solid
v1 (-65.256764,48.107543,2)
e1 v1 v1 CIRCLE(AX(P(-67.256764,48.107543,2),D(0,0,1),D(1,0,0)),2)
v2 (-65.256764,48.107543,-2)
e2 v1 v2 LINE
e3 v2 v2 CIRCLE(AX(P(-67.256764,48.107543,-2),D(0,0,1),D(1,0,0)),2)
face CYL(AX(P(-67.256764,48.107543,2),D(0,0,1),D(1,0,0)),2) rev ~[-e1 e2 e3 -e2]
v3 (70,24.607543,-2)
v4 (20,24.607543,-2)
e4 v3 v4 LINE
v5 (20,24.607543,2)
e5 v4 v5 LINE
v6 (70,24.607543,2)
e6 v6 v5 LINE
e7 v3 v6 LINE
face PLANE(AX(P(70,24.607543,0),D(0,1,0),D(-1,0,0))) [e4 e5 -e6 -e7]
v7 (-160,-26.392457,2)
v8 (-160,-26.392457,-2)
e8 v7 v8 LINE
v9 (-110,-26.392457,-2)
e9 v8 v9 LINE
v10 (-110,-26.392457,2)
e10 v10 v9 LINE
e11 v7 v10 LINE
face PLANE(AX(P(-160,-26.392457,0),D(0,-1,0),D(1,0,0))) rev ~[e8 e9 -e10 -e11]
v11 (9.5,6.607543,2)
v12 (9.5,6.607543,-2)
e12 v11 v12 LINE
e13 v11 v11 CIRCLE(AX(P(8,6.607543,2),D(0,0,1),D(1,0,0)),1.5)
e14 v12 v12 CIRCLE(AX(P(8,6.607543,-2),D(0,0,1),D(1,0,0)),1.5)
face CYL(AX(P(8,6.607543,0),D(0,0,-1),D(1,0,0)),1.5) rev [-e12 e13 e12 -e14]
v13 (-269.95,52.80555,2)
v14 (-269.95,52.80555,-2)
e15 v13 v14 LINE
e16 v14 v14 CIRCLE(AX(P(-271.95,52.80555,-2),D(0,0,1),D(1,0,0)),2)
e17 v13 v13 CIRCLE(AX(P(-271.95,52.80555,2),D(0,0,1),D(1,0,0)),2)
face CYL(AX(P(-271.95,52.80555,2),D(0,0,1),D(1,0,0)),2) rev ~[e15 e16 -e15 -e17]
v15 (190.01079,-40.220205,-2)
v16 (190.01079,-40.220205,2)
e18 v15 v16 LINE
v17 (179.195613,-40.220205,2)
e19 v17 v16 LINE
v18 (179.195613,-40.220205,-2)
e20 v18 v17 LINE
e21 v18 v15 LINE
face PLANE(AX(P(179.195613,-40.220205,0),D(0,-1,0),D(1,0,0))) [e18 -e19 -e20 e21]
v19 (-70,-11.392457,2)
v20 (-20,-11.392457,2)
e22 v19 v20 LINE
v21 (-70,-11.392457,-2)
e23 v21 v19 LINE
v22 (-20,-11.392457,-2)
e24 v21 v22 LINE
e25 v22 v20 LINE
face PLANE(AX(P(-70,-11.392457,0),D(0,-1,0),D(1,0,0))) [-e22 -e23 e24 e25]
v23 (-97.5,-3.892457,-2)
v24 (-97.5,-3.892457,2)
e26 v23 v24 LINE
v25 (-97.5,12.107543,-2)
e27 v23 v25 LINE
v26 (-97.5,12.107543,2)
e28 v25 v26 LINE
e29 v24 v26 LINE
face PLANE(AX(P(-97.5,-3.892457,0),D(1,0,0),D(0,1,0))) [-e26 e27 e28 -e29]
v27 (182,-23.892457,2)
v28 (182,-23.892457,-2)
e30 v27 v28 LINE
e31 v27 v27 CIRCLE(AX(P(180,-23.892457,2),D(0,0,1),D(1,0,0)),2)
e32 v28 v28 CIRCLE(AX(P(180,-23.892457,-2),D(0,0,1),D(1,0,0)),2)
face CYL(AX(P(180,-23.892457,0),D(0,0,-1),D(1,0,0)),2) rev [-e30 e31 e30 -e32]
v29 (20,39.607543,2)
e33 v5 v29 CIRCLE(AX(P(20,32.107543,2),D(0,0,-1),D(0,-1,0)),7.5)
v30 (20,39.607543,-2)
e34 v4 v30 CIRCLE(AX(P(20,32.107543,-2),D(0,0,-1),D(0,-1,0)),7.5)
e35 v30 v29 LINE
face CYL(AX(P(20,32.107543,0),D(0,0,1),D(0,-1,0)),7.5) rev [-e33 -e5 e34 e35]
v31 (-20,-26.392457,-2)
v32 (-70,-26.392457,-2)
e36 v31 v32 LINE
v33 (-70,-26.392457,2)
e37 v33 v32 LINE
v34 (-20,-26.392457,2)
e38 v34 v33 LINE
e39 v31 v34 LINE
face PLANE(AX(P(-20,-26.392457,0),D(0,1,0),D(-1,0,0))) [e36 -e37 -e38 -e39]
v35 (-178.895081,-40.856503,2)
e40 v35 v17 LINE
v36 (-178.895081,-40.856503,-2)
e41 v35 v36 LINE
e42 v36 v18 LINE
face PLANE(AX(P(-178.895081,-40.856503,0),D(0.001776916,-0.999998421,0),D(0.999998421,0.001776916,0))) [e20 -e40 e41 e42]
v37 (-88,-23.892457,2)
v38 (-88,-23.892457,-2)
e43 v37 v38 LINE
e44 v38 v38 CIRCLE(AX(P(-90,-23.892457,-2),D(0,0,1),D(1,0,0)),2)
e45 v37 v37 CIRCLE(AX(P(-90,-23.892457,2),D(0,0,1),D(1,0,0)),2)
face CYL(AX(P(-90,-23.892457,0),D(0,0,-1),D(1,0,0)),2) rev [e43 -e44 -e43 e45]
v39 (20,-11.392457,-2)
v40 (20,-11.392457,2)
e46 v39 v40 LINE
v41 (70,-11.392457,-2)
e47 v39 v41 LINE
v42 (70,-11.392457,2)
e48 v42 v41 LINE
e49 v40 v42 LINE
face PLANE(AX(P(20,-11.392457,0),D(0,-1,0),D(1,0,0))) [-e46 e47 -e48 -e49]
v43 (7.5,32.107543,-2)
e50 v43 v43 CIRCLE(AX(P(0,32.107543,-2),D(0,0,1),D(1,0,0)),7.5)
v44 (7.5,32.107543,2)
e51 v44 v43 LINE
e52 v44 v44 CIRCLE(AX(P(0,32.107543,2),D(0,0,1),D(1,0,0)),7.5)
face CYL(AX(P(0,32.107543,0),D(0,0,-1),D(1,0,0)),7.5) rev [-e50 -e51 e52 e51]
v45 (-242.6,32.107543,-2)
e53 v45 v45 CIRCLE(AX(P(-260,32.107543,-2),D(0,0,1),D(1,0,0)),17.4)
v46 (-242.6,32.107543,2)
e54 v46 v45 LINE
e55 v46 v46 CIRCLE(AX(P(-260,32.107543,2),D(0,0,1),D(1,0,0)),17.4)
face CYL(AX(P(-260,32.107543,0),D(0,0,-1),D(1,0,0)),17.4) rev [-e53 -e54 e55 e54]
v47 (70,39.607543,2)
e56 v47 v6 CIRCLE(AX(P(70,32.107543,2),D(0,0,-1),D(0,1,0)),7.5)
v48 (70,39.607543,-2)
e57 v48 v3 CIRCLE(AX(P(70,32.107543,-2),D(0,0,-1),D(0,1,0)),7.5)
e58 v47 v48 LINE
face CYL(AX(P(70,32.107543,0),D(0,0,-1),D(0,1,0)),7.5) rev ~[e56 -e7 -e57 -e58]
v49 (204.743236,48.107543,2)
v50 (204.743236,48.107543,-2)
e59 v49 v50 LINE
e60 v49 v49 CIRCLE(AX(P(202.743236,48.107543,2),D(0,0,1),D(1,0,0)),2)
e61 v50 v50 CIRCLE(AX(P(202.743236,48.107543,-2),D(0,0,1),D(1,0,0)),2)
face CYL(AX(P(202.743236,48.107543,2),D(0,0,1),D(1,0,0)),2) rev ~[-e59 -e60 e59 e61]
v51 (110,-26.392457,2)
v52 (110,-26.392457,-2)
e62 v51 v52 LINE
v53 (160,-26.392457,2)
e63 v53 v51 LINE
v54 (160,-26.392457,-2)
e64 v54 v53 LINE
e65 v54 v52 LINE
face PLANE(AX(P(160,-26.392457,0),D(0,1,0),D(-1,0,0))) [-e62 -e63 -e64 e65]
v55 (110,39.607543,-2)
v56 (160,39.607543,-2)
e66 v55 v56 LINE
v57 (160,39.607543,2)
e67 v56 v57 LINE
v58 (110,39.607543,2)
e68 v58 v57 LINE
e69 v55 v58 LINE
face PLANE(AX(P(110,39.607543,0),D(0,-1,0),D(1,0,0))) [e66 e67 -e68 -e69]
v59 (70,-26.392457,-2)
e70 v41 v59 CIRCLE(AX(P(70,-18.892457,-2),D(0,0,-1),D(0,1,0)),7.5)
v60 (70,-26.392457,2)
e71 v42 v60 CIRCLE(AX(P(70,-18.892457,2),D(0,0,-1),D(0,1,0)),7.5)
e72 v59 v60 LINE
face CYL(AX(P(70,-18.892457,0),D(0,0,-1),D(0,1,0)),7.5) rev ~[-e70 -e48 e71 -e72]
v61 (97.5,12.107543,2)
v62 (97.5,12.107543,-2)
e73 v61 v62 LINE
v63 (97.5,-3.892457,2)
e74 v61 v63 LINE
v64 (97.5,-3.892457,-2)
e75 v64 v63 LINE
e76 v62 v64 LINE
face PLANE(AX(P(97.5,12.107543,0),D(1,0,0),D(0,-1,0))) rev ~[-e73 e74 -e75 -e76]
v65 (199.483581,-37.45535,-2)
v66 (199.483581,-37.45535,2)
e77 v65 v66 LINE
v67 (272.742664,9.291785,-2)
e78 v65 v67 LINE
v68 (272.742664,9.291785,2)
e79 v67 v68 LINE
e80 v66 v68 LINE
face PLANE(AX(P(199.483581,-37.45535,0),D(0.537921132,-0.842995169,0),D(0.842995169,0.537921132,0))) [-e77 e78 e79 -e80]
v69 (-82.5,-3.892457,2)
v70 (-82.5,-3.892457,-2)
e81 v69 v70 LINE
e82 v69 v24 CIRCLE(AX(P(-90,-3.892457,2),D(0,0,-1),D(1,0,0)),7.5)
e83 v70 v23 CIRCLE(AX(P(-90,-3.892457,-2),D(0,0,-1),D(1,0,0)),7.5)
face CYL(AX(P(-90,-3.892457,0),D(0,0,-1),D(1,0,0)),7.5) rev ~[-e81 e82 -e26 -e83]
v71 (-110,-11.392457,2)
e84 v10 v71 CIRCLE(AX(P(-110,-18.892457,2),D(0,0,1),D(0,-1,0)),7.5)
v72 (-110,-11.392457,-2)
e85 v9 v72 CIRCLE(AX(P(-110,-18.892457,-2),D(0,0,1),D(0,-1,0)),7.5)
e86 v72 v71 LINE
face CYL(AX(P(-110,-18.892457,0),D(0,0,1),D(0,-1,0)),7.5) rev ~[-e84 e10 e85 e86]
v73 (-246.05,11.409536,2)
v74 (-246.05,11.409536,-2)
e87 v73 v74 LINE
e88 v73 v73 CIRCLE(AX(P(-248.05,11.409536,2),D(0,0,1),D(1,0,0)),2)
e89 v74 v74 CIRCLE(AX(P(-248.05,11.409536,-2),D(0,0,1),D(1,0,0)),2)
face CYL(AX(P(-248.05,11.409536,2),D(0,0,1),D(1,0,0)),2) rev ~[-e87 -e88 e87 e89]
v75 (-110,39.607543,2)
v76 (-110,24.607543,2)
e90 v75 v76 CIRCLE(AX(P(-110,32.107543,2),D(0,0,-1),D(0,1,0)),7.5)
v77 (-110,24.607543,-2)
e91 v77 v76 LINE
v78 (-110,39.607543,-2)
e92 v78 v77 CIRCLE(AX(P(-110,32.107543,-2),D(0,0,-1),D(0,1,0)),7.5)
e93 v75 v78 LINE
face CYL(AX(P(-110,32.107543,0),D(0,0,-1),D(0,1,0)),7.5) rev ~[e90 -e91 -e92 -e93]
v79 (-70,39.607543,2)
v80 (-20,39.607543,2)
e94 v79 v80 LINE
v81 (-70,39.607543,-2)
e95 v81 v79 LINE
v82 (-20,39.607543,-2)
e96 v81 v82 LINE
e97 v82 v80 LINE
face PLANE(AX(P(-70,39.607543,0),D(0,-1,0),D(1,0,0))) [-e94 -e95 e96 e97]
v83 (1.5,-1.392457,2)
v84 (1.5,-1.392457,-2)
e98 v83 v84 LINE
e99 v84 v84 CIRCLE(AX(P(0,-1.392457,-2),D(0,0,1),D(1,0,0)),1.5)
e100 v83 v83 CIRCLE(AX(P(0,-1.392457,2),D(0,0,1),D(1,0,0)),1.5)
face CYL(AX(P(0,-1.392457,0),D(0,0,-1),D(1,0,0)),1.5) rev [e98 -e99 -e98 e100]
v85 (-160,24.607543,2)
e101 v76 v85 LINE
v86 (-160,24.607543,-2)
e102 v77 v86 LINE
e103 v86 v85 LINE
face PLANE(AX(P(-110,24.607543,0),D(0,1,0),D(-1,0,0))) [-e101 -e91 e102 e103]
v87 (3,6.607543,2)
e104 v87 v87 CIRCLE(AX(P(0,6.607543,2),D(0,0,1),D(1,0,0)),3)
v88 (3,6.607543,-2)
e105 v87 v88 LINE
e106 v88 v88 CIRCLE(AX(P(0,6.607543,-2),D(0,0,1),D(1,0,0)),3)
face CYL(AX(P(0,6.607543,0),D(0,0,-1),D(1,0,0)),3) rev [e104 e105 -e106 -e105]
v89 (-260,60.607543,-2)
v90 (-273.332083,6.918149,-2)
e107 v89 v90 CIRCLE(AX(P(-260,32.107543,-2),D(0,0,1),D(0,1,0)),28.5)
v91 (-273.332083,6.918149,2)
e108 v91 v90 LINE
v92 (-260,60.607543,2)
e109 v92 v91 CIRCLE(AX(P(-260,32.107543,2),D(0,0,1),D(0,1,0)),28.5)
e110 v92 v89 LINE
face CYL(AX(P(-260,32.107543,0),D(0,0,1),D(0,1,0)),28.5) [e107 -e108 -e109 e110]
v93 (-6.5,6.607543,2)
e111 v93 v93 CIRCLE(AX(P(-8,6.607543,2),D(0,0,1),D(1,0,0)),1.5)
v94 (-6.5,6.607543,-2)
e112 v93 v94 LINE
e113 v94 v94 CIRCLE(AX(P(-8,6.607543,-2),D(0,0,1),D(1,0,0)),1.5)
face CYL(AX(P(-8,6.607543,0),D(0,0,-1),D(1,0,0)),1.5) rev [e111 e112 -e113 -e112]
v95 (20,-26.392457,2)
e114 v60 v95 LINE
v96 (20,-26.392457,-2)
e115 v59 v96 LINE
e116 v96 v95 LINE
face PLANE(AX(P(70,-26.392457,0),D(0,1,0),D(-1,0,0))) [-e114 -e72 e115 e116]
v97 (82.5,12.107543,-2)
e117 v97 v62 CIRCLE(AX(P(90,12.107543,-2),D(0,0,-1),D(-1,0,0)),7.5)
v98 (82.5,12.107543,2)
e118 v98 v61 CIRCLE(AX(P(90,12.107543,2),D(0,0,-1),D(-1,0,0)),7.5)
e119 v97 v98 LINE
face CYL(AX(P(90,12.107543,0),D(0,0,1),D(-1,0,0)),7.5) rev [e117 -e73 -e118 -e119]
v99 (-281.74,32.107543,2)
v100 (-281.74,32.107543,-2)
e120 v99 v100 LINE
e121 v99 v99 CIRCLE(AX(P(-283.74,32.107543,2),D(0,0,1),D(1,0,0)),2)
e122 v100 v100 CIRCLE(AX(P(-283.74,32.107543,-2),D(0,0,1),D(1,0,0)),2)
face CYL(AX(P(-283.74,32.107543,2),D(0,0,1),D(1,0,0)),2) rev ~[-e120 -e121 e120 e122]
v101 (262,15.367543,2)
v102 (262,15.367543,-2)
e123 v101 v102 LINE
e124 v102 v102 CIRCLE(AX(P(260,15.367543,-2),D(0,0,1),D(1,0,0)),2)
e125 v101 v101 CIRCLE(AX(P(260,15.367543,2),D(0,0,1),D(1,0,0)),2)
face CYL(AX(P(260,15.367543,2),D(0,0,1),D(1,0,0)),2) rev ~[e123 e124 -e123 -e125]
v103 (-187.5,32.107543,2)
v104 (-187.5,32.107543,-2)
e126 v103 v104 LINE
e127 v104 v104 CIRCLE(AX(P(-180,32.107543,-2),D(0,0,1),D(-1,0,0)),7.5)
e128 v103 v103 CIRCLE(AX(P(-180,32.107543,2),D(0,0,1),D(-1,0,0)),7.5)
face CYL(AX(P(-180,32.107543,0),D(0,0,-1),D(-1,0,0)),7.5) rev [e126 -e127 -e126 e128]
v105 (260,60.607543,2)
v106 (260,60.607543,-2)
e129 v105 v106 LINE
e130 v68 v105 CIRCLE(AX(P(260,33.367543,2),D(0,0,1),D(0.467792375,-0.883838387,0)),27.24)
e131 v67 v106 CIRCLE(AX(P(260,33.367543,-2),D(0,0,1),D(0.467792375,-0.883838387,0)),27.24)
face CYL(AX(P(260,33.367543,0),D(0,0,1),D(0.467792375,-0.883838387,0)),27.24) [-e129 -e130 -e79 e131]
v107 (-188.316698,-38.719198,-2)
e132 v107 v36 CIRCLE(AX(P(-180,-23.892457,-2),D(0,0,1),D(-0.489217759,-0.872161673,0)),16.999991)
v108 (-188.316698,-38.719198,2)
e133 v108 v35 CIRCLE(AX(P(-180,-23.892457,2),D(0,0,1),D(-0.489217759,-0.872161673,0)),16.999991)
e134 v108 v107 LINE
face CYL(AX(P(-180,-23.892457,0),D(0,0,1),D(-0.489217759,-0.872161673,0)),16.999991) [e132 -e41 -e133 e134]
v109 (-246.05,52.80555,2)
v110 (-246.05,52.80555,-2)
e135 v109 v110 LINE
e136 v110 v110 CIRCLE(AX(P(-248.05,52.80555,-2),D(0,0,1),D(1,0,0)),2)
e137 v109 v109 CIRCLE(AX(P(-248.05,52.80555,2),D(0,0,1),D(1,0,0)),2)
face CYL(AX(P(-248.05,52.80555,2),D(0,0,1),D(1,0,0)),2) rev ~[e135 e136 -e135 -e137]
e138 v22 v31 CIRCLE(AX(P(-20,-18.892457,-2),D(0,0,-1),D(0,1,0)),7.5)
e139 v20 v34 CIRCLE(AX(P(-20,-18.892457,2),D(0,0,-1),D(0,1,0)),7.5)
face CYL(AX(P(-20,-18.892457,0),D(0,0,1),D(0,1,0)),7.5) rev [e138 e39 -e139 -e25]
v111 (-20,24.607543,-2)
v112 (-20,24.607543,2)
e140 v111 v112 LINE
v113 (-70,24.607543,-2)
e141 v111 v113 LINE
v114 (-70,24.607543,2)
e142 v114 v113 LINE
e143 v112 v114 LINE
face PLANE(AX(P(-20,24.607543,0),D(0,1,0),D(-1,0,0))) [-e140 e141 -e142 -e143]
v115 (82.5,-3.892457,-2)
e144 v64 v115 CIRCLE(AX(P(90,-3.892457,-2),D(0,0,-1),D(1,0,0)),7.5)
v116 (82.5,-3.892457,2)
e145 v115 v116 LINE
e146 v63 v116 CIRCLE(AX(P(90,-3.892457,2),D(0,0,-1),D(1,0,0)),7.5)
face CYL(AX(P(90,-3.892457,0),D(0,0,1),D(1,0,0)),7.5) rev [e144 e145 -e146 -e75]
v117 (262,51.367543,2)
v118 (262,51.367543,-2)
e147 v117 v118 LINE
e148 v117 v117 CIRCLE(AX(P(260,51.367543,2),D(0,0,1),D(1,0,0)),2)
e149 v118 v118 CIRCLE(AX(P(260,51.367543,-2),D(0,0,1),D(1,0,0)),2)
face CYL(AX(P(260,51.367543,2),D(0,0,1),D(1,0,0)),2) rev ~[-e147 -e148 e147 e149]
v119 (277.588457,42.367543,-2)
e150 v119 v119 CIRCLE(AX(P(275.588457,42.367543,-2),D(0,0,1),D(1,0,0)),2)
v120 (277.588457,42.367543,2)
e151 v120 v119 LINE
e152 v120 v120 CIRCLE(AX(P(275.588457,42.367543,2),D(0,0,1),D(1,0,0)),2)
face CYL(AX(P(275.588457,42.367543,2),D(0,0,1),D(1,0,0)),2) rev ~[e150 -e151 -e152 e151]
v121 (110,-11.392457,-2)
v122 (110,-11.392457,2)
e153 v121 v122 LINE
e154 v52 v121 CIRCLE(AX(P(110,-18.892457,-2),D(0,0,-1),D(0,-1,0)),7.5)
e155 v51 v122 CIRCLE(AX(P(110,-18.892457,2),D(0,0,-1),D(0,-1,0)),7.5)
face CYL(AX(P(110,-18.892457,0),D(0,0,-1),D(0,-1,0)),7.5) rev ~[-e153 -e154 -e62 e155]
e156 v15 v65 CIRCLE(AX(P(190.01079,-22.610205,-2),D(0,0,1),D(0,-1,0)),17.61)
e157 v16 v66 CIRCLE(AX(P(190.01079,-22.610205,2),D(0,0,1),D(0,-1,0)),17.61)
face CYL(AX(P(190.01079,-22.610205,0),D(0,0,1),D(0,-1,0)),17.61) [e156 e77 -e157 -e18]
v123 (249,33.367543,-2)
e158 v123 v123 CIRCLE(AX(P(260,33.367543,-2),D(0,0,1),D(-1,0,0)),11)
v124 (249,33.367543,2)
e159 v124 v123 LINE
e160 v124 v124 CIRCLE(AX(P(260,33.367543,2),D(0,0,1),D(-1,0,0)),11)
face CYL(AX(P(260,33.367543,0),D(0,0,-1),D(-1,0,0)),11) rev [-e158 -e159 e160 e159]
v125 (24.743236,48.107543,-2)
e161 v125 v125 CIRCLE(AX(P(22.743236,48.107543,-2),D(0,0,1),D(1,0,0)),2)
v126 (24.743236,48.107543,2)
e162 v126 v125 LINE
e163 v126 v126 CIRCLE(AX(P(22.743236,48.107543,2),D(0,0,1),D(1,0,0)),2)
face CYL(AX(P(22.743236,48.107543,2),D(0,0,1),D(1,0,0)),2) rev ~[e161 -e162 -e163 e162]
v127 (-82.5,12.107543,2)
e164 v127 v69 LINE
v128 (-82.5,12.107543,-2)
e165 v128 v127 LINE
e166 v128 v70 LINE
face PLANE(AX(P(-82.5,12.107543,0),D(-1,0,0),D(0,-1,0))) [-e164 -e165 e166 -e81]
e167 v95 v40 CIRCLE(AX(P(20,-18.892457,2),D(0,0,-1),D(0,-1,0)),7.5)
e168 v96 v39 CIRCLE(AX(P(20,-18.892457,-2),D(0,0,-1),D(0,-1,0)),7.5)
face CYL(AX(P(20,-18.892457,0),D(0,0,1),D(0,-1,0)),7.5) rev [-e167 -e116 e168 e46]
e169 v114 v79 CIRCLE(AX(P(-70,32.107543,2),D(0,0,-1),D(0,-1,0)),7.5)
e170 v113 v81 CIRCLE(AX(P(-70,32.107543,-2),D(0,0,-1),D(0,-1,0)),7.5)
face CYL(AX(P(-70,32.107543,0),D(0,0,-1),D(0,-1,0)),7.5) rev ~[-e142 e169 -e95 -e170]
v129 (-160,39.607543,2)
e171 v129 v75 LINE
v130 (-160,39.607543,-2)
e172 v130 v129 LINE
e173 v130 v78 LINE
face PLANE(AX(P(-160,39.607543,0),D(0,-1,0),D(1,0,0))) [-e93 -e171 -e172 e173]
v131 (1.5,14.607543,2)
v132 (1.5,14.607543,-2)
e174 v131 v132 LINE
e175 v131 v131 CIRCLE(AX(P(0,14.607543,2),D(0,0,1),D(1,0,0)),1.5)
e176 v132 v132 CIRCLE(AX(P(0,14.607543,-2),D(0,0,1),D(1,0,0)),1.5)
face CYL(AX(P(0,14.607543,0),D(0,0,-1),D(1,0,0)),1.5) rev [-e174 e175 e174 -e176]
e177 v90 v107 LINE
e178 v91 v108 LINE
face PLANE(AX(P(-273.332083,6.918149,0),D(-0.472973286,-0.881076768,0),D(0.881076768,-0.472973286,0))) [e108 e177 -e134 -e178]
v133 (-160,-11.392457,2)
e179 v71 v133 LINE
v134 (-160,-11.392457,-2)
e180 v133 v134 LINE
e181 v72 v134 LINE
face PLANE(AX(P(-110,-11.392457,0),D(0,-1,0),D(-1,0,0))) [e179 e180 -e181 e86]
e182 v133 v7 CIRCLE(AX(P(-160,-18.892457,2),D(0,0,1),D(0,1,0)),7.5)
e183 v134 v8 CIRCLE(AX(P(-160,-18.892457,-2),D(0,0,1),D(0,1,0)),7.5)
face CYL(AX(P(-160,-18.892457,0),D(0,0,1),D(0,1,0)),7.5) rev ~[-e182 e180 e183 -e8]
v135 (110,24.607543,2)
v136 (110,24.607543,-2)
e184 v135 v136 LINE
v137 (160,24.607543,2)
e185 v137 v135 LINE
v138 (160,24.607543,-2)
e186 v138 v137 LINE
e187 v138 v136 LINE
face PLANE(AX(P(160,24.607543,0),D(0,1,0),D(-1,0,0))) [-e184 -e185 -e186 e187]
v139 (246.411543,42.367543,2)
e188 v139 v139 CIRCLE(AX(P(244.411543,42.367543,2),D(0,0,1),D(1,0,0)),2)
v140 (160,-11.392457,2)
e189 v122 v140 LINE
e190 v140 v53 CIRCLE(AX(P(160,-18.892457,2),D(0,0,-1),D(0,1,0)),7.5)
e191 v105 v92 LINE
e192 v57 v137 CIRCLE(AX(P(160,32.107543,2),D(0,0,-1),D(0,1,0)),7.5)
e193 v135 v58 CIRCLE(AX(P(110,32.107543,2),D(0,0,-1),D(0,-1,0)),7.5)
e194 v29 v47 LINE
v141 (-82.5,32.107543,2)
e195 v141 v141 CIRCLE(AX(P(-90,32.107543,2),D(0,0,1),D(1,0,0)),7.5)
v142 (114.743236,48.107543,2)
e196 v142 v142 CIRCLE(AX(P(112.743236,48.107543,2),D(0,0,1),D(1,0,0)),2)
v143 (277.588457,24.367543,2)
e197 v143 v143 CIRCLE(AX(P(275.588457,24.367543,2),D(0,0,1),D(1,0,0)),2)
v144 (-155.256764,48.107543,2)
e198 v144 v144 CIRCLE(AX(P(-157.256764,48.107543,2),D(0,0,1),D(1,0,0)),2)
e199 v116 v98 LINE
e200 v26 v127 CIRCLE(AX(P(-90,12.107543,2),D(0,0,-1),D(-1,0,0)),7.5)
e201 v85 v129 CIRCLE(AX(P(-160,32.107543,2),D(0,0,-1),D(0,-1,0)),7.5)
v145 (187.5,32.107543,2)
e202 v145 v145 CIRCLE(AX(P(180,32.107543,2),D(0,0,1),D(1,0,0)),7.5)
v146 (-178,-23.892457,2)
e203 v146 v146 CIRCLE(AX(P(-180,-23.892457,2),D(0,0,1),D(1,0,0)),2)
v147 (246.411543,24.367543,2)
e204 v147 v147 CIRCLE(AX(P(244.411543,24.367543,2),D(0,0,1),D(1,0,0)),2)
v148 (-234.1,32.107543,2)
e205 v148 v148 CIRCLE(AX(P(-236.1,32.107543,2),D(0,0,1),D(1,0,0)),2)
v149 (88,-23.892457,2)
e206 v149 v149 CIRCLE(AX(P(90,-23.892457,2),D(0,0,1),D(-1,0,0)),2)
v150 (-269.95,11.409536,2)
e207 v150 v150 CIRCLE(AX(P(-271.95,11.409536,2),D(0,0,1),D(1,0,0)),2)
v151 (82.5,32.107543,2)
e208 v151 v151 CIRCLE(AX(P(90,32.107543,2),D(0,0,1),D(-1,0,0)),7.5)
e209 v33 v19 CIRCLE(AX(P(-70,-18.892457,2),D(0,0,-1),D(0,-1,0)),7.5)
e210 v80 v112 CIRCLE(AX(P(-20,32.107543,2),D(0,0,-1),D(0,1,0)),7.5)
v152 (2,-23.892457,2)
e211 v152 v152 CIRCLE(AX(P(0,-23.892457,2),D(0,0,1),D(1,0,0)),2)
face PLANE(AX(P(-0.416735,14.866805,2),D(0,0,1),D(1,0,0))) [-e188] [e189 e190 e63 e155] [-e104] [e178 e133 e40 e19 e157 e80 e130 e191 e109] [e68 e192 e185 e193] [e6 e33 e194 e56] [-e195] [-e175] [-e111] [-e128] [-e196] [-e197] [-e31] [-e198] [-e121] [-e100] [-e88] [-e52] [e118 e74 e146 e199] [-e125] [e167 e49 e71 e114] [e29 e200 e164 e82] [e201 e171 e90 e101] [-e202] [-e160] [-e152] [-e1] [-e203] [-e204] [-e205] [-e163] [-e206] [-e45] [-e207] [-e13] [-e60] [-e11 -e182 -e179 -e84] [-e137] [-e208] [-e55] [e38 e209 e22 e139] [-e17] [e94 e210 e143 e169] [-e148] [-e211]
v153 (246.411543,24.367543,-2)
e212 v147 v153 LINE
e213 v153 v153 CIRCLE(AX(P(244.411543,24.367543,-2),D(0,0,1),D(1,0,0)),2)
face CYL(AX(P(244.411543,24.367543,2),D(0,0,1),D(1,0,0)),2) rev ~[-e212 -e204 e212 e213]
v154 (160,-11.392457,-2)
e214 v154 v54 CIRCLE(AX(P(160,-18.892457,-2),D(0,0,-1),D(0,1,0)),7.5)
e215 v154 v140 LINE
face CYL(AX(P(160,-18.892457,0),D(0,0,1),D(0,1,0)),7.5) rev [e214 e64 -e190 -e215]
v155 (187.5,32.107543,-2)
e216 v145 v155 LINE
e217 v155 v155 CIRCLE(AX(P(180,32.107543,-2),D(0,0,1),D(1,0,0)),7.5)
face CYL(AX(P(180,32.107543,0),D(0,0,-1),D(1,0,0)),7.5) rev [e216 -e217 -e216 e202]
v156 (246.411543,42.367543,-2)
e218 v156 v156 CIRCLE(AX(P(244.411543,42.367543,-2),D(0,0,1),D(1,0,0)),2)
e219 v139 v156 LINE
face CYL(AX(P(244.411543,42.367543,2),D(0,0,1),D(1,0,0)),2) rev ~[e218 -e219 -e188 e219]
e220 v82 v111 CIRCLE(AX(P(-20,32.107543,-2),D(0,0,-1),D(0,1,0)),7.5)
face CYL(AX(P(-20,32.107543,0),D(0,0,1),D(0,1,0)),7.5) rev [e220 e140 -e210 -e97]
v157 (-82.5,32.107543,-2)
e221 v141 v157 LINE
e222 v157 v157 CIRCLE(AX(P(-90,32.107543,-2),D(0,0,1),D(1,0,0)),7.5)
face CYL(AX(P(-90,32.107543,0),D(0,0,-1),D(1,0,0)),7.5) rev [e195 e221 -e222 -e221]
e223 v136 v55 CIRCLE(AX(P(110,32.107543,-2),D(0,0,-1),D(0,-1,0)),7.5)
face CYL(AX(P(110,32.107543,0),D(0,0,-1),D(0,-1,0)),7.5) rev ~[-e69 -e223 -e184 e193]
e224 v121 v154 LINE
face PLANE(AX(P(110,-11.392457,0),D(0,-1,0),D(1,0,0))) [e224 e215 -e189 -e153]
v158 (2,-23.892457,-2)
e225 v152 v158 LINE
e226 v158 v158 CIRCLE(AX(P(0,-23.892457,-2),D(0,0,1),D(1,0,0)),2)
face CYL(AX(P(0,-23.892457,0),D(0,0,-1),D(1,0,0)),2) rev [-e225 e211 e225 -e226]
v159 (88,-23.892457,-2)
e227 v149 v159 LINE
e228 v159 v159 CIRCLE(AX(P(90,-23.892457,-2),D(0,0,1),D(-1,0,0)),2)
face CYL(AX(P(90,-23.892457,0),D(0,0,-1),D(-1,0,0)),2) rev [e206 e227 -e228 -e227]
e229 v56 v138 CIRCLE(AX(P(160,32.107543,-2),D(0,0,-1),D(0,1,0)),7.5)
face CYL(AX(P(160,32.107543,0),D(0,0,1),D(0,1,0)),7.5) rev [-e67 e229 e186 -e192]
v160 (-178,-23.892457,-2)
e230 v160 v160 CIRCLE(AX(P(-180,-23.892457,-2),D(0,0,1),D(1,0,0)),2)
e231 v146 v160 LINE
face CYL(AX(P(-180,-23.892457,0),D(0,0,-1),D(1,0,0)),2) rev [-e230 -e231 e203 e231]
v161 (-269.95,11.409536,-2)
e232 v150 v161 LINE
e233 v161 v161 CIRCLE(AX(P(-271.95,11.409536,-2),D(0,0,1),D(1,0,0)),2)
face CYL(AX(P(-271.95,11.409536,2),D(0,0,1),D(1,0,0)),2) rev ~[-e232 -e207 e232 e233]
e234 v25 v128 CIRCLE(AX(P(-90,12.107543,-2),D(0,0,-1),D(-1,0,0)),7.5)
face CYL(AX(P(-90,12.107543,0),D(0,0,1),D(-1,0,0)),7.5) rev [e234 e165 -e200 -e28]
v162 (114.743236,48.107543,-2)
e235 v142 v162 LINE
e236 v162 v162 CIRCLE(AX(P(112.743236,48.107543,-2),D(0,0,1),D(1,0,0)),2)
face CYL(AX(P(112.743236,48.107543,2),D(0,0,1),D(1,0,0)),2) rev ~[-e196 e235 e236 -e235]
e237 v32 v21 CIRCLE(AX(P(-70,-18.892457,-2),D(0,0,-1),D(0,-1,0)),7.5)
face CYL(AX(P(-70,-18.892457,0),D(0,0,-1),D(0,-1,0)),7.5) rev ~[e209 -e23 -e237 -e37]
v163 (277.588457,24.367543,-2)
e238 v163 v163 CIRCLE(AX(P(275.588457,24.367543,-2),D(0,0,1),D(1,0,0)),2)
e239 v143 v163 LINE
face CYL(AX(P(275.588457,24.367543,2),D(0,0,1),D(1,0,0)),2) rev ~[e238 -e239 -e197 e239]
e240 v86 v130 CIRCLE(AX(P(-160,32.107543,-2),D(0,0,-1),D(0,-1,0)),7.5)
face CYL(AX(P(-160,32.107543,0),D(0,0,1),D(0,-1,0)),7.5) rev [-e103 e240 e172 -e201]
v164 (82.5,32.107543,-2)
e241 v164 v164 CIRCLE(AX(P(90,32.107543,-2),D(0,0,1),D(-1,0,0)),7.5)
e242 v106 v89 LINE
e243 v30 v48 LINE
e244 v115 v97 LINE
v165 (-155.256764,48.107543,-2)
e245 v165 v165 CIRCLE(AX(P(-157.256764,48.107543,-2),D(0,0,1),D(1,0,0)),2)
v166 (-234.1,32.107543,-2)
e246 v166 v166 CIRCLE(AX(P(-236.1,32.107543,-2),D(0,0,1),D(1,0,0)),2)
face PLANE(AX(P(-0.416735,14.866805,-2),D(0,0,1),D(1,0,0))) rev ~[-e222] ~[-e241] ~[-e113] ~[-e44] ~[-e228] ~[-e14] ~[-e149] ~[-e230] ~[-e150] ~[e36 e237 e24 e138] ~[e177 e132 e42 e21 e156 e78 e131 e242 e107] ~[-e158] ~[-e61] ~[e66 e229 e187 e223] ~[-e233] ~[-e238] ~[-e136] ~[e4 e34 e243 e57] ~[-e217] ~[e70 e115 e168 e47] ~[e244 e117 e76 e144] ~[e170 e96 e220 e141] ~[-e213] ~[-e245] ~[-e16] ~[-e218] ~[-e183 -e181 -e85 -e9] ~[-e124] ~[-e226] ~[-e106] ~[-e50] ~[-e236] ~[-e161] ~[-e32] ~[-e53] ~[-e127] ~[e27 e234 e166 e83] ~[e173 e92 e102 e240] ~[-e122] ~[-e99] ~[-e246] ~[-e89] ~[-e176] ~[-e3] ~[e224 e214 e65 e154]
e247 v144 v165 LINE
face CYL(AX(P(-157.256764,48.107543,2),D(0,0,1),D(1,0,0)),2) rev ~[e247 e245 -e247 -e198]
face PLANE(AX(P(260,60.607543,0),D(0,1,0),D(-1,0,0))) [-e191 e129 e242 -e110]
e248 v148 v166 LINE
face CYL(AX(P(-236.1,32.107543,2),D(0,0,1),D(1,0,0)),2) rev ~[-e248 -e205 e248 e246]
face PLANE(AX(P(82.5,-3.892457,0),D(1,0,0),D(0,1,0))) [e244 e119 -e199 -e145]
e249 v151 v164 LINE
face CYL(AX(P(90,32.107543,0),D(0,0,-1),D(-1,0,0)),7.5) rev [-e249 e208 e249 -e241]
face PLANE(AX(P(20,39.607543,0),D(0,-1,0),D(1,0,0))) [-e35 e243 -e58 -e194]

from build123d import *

# Parameters (mm, degrees)
CROQUIS1_R              = 2
CROQUIS1_R_2            = 7.5
CROQUIS1_R_3            = 17.4
CROQUIS1_R_4            = 11
CROQUIS1_R_5            = 1.5
CROQUIS1_R_6            = 3
SALIENTE_EXTRUIR1_DEPTH = 2
CROQUIS2_R              = 2
CORTAR_EXTRUIR1_DEPTH   = 10
CROQUIS3_R              = 2
CORTAR_EXTRUIR2_DEPTH   = 10
CROQUIS4_R              = 2
CORTAR_EXTRUIR3_DEPTH   = 10


with BuildPart() as part:
    # Croquis1 → Saliente-Extruir1 (new, symmetric)
    with BuildSketch(Plane.XY):
        with BuildLine():
            Line((-178.895080774, -40.856503162), (179.195612521, -40.220204958))
            Line((179.195612521, -40.220204958), (190.010789857, -40.220204958))
            ThreePointArc((190.010789857, -40.220204958), (194.944809403, -39.514865591), (199.483580997, -37.455349889))
            Line((199.483580997, -37.455349889), (272.742664287, 9.291785175))
            ThreePointArc((272.742664287, 9.291785175), (286.437106864, 39.932371901), (260, 60.607542834))
            Line((260, 60.607542834), (-260, 60.607542834))
            ThreePointArc((-260, 60.607542834), (-287.659968635, 38.976031395), (-273.332082679, 6.918148807))
            Line((-273.332082679, 6.918148807), (-188.316697637, -38.71919799))
            ThreePointArc((-188.316697637, -38.71919799), (-183.7609115, -40.471216098), (-178.895080774, -40.856503162))
        make_face()
        with Locations((0, -23.892457166)):
            Circle(CROQUIS1_R, mode=Mode.SUBTRACT)
        with Locations((-90, -23.892457166)):
            Circle(CROQUIS1_R, mode=Mode.SUBTRACT)
        with Locations((-180, -23.892457166)):
            Circle(CROQUIS1_R, mode=Mode.SUBTRACT)
        with Locations((-90, 32.107542834)):
            Circle(CROQUIS1_R_2, mode=Mode.SUBTRACT)
        with Locations((0, 32.107542834)):
            Circle(CROQUIS1_R_2, mode=Mode.SUBTRACT)
        with Locations((-260, 32.107542834)):
            Circle(CROQUIS1_R_3, mode=Mode.SUBTRACT)
        with Locations(Location((260, 33.367542834, 0), (0, 0, 180))):
            Circle(CROQUIS1_R_4, mode=Mode.SUBTRACT)
        with Locations(Location((90, 32.107542834, 0), (0, 0, 180))):
            Circle(CROQUIS1_R_2, mode=Mode.SUBTRACT)
        with Locations(Location((90, -23.892457166, 0), (0, 0, 180))):
            Circle(CROQUIS1_R, mode=Mode.SUBTRACT)
        with Locations(Location((-180, 32.107542834, 0), (0, 0, 180))):
            Circle(CROQUIS1_R_2, mode=Mode.SUBTRACT)
        with Locations((180, 32.107542834)):
            Circle(CROQUIS1_R_2, mode=Mode.SUBTRACT)
        with Locations((-8, 6.607542834)):
            Circle(CROQUIS1_R_5, mode=Mode.SUBTRACT)
        with Locations((0, 14.607542834)):
            Circle(CROQUIS1_R_5, mode=Mode.SUBTRACT)
        with Locations((8, 6.607542834)):
            Circle(CROQUIS1_R_5, mode=Mode.SUBTRACT)
        with Locations((0, -1.392457166)):
            Circle(CROQUIS1_R_5, mode=Mode.SUBTRACT)
        with Locations((0, 6.607542834)):
            Circle(CROQUIS1_R_6, mode=Mode.SUBTRACT)
        with Locations((180, -23.892457166)):
            Circle(CROQUIS1_R, mode=Mode.SUBTRACT)
        with BuildLine():
            Line((-82.5, 12.107542834), (-82.5, -3.892457166))
            ThreePointArc((-82.5, -3.892457166), (-90, -11.392457166), (-97.5, -3.892457166))
            Line((-97.5, -3.892457166), (-97.5, 12.107542834))
            ThreePointArc((-97.5, 12.107542834), (-90, 19.607542834), (-82.5, 12.107542834))
        make_face(mode=Mode.SUBTRACT)
        with BuildLine():
            Line((-20, 24.607542834), (-70, 24.607542834))
            ThreePointArc((-70, 24.607542834), (-77.5, 32.107542834), (-70, 39.607542834))
            Line((-70, 39.607542834), (-20, 39.607542834))
            ThreePointArc((-20, 39.607542834), (-12.5, 32.107542834), (-20, 24.607542834))
        make_face(mode=Mode.SUBTRACT)
        with BuildLine():
            Line((160, -26.392457166), (110, -26.392457166))
            ThreePointArc((110, -26.392457166), (102.5, -18.892457166), (110, -11.392457166))
            Line((110, -11.392457166), (160, -11.392457166))
            ThreePointArc((160, -11.392457166), (167.5, -18.892457166), (160, -26.392457166))
        make_face(mode=Mode.SUBTRACT)
        with BuildLine():
            Line((20, -11.392457166), (70, -11.392457166))
            ThreePointArc((70, -11.392457166), (77.5, -18.892457166), (70, -26.392457166))
            Line((70, -26.392457166), (20, -26.392457166))
            ThreePointArc((20, -26.392457166), (12.5, -18.892457166), (20, -11.392457166))
        make_face(mode=Mode.SUBTRACT)
        with BuildLine():
            Line((20, 39.607542834), (70, 39.607542834))
            ThreePointArc((70, 39.607542834), (77.5, 32.107542834), (70, 24.607542834))
            Line((70, 24.607542834), (20, 24.607542834))
            ThreePointArc((20, 24.607542834), (12.5, 32.107542834), (20, 39.607542834))
        make_face(mode=Mode.SUBTRACT)
        with BuildLine():
            Line((-160, 39.607542834), (-110, 39.607542834))
            ThreePointArc((-110, 39.607542834), (-102.5, 32.107542834), (-110, 24.607542834))
            Line((-110, 24.607542834), (-160, 24.607542834))
            ThreePointArc((-160, 24.607542834), (-167.5, 32.107542834), (-160, 39.607542834))
        make_face(mode=Mode.SUBTRACT)
        with BuildLine():
            Line((-20, -26.392457166), (-70, -26.392457166))
            ThreePointArc((-70, -26.392457166), (-77.5, -18.892457166), (-70, -11.392457166))
            Line((-70, -11.392457166), (-20, -11.392457166))
            ThreePointArc((-20, -11.392457166), (-12.5, -18.892457166), (-20, -26.392457166))
        make_face(mode=Mode.SUBTRACT)
        with BuildLine():
            Line((160, 24.607542834), (110, 24.607542834))
            ThreePointArc((110, 24.607542834), (102.5, 32.107542834), (110, 39.607542834))
            Line((110, 39.607542834), (160, 39.607542834))
            ThreePointArc((160, 39.607542834), (167.5, 32.107542834), (160, 24.607542834))
        make_face(mode=Mode.SUBTRACT)
        with BuildLine():
            Line((-160, -26.392457166), (-110, -26.392457166))
            ThreePointArc((-110, -26.392457166), (-102.5, -18.892457166), (-110, -11.392457166))
            Line((-110, -11.392457166), (-160, -11.392457166))
            ThreePointArc((-160, -11.392457166), (-167.5, -18.892457166), (-160, -26.392457166))
        make_face(mode=Mode.SUBTRACT)
        with BuildLine():
            Line((97.5, 12.107542834), (97.5, -3.892457166))
            ThreePointArc((97.5, -3.892457166), (90, -11.392457166), (82.5, -3.892457166))
            Line((82.5, -3.892457166), (82.5, 12.107542834))
            ThreePointArc((82.5, 12.107542834), (90, 19.607542834), (97.5, 12.107542834))
        make_face(mode=Mode.SUBTRACT)
    extrude(amount=SALIENTE_EXTRUIR1_DEPTH, both=True)

    # Croquis2 → Cortar-Extruir1 (cut)
    with BuildSketch(Plane.XY.offset(2)):
        with Locations((-283.74, 32.107542834)):
            Circle(CROQUIS2_R)
        with Locations((-271.95, 52.805549985)):
            Circle(CROQUIS2_R)
        with Locations((-248.05, 52.805549985)):
            Circle(CROQUIS2_R)
        with Locations((-236.1, 32.107542834)):
            Circle(CROQUIS2_R)
        with Locations((-248.05, 11.409535684)):
            Circle(CROQUIS2_R)
        with Locations((-271.95, 11.409535684)):
            Circle(CROQUIS2_R)
    extrude(amount=-CORTAR_EXTRUIR1_DEPTH, mode=Mode.SUBTRACT)

    # Croquis3 → Cortar-Extruir2 (cut)
    with BuildSketch(Plane.XY.offset(2)):
        with Locations((260, 51.367542834)):
            Circle(CROQUIS3_R)
        with Locations((275.588457268, 42.367542834)):
            Circle(CROQUIS3_R)
        with Locations((275.588457268, 24.367542834)):
            Circle(CROQUIS3_R)
        with Locations((260, 15.367542834)):
            Circle(CROQUIS3_R)
        with Locations((244.411542732, 24.367542834)):
            Circle(CROQUIS3_R)
        with Locations((244.411542732, 42.367542834)):
            Circle(CROQUIS3_R)
    extrude(amount=-CORTAR_EXTRUIR2_DEPTH, mode=Mode.SUBTRACT)

    # Croquis4 → Cortar-Extruir3 (cut)
    with BuildSketch(Plane.XY.offset(2)):
        with Locations((-157.256763594, 48.107542834)):
            Circle(CROQUIS4_R)
        with Locations((-67.256763594, 48.107542834)):
            Circle(CROQUIS4_R)
        with Locations((22.743236406, 48.107542834)):
            Circle(CROQUIS4_R)
        with Locations((112.743236406, 48.107542834)):
            Circle(CROQUIS4_R)
        with Locations((202.743236406, 48.107542834)):
            Circle(CROQUIS4_R)
    extrude(amount=-CORTAR_EXTRUIR3_DEPTH, mode=Mode.SUBTRACT)


solid = part.part
